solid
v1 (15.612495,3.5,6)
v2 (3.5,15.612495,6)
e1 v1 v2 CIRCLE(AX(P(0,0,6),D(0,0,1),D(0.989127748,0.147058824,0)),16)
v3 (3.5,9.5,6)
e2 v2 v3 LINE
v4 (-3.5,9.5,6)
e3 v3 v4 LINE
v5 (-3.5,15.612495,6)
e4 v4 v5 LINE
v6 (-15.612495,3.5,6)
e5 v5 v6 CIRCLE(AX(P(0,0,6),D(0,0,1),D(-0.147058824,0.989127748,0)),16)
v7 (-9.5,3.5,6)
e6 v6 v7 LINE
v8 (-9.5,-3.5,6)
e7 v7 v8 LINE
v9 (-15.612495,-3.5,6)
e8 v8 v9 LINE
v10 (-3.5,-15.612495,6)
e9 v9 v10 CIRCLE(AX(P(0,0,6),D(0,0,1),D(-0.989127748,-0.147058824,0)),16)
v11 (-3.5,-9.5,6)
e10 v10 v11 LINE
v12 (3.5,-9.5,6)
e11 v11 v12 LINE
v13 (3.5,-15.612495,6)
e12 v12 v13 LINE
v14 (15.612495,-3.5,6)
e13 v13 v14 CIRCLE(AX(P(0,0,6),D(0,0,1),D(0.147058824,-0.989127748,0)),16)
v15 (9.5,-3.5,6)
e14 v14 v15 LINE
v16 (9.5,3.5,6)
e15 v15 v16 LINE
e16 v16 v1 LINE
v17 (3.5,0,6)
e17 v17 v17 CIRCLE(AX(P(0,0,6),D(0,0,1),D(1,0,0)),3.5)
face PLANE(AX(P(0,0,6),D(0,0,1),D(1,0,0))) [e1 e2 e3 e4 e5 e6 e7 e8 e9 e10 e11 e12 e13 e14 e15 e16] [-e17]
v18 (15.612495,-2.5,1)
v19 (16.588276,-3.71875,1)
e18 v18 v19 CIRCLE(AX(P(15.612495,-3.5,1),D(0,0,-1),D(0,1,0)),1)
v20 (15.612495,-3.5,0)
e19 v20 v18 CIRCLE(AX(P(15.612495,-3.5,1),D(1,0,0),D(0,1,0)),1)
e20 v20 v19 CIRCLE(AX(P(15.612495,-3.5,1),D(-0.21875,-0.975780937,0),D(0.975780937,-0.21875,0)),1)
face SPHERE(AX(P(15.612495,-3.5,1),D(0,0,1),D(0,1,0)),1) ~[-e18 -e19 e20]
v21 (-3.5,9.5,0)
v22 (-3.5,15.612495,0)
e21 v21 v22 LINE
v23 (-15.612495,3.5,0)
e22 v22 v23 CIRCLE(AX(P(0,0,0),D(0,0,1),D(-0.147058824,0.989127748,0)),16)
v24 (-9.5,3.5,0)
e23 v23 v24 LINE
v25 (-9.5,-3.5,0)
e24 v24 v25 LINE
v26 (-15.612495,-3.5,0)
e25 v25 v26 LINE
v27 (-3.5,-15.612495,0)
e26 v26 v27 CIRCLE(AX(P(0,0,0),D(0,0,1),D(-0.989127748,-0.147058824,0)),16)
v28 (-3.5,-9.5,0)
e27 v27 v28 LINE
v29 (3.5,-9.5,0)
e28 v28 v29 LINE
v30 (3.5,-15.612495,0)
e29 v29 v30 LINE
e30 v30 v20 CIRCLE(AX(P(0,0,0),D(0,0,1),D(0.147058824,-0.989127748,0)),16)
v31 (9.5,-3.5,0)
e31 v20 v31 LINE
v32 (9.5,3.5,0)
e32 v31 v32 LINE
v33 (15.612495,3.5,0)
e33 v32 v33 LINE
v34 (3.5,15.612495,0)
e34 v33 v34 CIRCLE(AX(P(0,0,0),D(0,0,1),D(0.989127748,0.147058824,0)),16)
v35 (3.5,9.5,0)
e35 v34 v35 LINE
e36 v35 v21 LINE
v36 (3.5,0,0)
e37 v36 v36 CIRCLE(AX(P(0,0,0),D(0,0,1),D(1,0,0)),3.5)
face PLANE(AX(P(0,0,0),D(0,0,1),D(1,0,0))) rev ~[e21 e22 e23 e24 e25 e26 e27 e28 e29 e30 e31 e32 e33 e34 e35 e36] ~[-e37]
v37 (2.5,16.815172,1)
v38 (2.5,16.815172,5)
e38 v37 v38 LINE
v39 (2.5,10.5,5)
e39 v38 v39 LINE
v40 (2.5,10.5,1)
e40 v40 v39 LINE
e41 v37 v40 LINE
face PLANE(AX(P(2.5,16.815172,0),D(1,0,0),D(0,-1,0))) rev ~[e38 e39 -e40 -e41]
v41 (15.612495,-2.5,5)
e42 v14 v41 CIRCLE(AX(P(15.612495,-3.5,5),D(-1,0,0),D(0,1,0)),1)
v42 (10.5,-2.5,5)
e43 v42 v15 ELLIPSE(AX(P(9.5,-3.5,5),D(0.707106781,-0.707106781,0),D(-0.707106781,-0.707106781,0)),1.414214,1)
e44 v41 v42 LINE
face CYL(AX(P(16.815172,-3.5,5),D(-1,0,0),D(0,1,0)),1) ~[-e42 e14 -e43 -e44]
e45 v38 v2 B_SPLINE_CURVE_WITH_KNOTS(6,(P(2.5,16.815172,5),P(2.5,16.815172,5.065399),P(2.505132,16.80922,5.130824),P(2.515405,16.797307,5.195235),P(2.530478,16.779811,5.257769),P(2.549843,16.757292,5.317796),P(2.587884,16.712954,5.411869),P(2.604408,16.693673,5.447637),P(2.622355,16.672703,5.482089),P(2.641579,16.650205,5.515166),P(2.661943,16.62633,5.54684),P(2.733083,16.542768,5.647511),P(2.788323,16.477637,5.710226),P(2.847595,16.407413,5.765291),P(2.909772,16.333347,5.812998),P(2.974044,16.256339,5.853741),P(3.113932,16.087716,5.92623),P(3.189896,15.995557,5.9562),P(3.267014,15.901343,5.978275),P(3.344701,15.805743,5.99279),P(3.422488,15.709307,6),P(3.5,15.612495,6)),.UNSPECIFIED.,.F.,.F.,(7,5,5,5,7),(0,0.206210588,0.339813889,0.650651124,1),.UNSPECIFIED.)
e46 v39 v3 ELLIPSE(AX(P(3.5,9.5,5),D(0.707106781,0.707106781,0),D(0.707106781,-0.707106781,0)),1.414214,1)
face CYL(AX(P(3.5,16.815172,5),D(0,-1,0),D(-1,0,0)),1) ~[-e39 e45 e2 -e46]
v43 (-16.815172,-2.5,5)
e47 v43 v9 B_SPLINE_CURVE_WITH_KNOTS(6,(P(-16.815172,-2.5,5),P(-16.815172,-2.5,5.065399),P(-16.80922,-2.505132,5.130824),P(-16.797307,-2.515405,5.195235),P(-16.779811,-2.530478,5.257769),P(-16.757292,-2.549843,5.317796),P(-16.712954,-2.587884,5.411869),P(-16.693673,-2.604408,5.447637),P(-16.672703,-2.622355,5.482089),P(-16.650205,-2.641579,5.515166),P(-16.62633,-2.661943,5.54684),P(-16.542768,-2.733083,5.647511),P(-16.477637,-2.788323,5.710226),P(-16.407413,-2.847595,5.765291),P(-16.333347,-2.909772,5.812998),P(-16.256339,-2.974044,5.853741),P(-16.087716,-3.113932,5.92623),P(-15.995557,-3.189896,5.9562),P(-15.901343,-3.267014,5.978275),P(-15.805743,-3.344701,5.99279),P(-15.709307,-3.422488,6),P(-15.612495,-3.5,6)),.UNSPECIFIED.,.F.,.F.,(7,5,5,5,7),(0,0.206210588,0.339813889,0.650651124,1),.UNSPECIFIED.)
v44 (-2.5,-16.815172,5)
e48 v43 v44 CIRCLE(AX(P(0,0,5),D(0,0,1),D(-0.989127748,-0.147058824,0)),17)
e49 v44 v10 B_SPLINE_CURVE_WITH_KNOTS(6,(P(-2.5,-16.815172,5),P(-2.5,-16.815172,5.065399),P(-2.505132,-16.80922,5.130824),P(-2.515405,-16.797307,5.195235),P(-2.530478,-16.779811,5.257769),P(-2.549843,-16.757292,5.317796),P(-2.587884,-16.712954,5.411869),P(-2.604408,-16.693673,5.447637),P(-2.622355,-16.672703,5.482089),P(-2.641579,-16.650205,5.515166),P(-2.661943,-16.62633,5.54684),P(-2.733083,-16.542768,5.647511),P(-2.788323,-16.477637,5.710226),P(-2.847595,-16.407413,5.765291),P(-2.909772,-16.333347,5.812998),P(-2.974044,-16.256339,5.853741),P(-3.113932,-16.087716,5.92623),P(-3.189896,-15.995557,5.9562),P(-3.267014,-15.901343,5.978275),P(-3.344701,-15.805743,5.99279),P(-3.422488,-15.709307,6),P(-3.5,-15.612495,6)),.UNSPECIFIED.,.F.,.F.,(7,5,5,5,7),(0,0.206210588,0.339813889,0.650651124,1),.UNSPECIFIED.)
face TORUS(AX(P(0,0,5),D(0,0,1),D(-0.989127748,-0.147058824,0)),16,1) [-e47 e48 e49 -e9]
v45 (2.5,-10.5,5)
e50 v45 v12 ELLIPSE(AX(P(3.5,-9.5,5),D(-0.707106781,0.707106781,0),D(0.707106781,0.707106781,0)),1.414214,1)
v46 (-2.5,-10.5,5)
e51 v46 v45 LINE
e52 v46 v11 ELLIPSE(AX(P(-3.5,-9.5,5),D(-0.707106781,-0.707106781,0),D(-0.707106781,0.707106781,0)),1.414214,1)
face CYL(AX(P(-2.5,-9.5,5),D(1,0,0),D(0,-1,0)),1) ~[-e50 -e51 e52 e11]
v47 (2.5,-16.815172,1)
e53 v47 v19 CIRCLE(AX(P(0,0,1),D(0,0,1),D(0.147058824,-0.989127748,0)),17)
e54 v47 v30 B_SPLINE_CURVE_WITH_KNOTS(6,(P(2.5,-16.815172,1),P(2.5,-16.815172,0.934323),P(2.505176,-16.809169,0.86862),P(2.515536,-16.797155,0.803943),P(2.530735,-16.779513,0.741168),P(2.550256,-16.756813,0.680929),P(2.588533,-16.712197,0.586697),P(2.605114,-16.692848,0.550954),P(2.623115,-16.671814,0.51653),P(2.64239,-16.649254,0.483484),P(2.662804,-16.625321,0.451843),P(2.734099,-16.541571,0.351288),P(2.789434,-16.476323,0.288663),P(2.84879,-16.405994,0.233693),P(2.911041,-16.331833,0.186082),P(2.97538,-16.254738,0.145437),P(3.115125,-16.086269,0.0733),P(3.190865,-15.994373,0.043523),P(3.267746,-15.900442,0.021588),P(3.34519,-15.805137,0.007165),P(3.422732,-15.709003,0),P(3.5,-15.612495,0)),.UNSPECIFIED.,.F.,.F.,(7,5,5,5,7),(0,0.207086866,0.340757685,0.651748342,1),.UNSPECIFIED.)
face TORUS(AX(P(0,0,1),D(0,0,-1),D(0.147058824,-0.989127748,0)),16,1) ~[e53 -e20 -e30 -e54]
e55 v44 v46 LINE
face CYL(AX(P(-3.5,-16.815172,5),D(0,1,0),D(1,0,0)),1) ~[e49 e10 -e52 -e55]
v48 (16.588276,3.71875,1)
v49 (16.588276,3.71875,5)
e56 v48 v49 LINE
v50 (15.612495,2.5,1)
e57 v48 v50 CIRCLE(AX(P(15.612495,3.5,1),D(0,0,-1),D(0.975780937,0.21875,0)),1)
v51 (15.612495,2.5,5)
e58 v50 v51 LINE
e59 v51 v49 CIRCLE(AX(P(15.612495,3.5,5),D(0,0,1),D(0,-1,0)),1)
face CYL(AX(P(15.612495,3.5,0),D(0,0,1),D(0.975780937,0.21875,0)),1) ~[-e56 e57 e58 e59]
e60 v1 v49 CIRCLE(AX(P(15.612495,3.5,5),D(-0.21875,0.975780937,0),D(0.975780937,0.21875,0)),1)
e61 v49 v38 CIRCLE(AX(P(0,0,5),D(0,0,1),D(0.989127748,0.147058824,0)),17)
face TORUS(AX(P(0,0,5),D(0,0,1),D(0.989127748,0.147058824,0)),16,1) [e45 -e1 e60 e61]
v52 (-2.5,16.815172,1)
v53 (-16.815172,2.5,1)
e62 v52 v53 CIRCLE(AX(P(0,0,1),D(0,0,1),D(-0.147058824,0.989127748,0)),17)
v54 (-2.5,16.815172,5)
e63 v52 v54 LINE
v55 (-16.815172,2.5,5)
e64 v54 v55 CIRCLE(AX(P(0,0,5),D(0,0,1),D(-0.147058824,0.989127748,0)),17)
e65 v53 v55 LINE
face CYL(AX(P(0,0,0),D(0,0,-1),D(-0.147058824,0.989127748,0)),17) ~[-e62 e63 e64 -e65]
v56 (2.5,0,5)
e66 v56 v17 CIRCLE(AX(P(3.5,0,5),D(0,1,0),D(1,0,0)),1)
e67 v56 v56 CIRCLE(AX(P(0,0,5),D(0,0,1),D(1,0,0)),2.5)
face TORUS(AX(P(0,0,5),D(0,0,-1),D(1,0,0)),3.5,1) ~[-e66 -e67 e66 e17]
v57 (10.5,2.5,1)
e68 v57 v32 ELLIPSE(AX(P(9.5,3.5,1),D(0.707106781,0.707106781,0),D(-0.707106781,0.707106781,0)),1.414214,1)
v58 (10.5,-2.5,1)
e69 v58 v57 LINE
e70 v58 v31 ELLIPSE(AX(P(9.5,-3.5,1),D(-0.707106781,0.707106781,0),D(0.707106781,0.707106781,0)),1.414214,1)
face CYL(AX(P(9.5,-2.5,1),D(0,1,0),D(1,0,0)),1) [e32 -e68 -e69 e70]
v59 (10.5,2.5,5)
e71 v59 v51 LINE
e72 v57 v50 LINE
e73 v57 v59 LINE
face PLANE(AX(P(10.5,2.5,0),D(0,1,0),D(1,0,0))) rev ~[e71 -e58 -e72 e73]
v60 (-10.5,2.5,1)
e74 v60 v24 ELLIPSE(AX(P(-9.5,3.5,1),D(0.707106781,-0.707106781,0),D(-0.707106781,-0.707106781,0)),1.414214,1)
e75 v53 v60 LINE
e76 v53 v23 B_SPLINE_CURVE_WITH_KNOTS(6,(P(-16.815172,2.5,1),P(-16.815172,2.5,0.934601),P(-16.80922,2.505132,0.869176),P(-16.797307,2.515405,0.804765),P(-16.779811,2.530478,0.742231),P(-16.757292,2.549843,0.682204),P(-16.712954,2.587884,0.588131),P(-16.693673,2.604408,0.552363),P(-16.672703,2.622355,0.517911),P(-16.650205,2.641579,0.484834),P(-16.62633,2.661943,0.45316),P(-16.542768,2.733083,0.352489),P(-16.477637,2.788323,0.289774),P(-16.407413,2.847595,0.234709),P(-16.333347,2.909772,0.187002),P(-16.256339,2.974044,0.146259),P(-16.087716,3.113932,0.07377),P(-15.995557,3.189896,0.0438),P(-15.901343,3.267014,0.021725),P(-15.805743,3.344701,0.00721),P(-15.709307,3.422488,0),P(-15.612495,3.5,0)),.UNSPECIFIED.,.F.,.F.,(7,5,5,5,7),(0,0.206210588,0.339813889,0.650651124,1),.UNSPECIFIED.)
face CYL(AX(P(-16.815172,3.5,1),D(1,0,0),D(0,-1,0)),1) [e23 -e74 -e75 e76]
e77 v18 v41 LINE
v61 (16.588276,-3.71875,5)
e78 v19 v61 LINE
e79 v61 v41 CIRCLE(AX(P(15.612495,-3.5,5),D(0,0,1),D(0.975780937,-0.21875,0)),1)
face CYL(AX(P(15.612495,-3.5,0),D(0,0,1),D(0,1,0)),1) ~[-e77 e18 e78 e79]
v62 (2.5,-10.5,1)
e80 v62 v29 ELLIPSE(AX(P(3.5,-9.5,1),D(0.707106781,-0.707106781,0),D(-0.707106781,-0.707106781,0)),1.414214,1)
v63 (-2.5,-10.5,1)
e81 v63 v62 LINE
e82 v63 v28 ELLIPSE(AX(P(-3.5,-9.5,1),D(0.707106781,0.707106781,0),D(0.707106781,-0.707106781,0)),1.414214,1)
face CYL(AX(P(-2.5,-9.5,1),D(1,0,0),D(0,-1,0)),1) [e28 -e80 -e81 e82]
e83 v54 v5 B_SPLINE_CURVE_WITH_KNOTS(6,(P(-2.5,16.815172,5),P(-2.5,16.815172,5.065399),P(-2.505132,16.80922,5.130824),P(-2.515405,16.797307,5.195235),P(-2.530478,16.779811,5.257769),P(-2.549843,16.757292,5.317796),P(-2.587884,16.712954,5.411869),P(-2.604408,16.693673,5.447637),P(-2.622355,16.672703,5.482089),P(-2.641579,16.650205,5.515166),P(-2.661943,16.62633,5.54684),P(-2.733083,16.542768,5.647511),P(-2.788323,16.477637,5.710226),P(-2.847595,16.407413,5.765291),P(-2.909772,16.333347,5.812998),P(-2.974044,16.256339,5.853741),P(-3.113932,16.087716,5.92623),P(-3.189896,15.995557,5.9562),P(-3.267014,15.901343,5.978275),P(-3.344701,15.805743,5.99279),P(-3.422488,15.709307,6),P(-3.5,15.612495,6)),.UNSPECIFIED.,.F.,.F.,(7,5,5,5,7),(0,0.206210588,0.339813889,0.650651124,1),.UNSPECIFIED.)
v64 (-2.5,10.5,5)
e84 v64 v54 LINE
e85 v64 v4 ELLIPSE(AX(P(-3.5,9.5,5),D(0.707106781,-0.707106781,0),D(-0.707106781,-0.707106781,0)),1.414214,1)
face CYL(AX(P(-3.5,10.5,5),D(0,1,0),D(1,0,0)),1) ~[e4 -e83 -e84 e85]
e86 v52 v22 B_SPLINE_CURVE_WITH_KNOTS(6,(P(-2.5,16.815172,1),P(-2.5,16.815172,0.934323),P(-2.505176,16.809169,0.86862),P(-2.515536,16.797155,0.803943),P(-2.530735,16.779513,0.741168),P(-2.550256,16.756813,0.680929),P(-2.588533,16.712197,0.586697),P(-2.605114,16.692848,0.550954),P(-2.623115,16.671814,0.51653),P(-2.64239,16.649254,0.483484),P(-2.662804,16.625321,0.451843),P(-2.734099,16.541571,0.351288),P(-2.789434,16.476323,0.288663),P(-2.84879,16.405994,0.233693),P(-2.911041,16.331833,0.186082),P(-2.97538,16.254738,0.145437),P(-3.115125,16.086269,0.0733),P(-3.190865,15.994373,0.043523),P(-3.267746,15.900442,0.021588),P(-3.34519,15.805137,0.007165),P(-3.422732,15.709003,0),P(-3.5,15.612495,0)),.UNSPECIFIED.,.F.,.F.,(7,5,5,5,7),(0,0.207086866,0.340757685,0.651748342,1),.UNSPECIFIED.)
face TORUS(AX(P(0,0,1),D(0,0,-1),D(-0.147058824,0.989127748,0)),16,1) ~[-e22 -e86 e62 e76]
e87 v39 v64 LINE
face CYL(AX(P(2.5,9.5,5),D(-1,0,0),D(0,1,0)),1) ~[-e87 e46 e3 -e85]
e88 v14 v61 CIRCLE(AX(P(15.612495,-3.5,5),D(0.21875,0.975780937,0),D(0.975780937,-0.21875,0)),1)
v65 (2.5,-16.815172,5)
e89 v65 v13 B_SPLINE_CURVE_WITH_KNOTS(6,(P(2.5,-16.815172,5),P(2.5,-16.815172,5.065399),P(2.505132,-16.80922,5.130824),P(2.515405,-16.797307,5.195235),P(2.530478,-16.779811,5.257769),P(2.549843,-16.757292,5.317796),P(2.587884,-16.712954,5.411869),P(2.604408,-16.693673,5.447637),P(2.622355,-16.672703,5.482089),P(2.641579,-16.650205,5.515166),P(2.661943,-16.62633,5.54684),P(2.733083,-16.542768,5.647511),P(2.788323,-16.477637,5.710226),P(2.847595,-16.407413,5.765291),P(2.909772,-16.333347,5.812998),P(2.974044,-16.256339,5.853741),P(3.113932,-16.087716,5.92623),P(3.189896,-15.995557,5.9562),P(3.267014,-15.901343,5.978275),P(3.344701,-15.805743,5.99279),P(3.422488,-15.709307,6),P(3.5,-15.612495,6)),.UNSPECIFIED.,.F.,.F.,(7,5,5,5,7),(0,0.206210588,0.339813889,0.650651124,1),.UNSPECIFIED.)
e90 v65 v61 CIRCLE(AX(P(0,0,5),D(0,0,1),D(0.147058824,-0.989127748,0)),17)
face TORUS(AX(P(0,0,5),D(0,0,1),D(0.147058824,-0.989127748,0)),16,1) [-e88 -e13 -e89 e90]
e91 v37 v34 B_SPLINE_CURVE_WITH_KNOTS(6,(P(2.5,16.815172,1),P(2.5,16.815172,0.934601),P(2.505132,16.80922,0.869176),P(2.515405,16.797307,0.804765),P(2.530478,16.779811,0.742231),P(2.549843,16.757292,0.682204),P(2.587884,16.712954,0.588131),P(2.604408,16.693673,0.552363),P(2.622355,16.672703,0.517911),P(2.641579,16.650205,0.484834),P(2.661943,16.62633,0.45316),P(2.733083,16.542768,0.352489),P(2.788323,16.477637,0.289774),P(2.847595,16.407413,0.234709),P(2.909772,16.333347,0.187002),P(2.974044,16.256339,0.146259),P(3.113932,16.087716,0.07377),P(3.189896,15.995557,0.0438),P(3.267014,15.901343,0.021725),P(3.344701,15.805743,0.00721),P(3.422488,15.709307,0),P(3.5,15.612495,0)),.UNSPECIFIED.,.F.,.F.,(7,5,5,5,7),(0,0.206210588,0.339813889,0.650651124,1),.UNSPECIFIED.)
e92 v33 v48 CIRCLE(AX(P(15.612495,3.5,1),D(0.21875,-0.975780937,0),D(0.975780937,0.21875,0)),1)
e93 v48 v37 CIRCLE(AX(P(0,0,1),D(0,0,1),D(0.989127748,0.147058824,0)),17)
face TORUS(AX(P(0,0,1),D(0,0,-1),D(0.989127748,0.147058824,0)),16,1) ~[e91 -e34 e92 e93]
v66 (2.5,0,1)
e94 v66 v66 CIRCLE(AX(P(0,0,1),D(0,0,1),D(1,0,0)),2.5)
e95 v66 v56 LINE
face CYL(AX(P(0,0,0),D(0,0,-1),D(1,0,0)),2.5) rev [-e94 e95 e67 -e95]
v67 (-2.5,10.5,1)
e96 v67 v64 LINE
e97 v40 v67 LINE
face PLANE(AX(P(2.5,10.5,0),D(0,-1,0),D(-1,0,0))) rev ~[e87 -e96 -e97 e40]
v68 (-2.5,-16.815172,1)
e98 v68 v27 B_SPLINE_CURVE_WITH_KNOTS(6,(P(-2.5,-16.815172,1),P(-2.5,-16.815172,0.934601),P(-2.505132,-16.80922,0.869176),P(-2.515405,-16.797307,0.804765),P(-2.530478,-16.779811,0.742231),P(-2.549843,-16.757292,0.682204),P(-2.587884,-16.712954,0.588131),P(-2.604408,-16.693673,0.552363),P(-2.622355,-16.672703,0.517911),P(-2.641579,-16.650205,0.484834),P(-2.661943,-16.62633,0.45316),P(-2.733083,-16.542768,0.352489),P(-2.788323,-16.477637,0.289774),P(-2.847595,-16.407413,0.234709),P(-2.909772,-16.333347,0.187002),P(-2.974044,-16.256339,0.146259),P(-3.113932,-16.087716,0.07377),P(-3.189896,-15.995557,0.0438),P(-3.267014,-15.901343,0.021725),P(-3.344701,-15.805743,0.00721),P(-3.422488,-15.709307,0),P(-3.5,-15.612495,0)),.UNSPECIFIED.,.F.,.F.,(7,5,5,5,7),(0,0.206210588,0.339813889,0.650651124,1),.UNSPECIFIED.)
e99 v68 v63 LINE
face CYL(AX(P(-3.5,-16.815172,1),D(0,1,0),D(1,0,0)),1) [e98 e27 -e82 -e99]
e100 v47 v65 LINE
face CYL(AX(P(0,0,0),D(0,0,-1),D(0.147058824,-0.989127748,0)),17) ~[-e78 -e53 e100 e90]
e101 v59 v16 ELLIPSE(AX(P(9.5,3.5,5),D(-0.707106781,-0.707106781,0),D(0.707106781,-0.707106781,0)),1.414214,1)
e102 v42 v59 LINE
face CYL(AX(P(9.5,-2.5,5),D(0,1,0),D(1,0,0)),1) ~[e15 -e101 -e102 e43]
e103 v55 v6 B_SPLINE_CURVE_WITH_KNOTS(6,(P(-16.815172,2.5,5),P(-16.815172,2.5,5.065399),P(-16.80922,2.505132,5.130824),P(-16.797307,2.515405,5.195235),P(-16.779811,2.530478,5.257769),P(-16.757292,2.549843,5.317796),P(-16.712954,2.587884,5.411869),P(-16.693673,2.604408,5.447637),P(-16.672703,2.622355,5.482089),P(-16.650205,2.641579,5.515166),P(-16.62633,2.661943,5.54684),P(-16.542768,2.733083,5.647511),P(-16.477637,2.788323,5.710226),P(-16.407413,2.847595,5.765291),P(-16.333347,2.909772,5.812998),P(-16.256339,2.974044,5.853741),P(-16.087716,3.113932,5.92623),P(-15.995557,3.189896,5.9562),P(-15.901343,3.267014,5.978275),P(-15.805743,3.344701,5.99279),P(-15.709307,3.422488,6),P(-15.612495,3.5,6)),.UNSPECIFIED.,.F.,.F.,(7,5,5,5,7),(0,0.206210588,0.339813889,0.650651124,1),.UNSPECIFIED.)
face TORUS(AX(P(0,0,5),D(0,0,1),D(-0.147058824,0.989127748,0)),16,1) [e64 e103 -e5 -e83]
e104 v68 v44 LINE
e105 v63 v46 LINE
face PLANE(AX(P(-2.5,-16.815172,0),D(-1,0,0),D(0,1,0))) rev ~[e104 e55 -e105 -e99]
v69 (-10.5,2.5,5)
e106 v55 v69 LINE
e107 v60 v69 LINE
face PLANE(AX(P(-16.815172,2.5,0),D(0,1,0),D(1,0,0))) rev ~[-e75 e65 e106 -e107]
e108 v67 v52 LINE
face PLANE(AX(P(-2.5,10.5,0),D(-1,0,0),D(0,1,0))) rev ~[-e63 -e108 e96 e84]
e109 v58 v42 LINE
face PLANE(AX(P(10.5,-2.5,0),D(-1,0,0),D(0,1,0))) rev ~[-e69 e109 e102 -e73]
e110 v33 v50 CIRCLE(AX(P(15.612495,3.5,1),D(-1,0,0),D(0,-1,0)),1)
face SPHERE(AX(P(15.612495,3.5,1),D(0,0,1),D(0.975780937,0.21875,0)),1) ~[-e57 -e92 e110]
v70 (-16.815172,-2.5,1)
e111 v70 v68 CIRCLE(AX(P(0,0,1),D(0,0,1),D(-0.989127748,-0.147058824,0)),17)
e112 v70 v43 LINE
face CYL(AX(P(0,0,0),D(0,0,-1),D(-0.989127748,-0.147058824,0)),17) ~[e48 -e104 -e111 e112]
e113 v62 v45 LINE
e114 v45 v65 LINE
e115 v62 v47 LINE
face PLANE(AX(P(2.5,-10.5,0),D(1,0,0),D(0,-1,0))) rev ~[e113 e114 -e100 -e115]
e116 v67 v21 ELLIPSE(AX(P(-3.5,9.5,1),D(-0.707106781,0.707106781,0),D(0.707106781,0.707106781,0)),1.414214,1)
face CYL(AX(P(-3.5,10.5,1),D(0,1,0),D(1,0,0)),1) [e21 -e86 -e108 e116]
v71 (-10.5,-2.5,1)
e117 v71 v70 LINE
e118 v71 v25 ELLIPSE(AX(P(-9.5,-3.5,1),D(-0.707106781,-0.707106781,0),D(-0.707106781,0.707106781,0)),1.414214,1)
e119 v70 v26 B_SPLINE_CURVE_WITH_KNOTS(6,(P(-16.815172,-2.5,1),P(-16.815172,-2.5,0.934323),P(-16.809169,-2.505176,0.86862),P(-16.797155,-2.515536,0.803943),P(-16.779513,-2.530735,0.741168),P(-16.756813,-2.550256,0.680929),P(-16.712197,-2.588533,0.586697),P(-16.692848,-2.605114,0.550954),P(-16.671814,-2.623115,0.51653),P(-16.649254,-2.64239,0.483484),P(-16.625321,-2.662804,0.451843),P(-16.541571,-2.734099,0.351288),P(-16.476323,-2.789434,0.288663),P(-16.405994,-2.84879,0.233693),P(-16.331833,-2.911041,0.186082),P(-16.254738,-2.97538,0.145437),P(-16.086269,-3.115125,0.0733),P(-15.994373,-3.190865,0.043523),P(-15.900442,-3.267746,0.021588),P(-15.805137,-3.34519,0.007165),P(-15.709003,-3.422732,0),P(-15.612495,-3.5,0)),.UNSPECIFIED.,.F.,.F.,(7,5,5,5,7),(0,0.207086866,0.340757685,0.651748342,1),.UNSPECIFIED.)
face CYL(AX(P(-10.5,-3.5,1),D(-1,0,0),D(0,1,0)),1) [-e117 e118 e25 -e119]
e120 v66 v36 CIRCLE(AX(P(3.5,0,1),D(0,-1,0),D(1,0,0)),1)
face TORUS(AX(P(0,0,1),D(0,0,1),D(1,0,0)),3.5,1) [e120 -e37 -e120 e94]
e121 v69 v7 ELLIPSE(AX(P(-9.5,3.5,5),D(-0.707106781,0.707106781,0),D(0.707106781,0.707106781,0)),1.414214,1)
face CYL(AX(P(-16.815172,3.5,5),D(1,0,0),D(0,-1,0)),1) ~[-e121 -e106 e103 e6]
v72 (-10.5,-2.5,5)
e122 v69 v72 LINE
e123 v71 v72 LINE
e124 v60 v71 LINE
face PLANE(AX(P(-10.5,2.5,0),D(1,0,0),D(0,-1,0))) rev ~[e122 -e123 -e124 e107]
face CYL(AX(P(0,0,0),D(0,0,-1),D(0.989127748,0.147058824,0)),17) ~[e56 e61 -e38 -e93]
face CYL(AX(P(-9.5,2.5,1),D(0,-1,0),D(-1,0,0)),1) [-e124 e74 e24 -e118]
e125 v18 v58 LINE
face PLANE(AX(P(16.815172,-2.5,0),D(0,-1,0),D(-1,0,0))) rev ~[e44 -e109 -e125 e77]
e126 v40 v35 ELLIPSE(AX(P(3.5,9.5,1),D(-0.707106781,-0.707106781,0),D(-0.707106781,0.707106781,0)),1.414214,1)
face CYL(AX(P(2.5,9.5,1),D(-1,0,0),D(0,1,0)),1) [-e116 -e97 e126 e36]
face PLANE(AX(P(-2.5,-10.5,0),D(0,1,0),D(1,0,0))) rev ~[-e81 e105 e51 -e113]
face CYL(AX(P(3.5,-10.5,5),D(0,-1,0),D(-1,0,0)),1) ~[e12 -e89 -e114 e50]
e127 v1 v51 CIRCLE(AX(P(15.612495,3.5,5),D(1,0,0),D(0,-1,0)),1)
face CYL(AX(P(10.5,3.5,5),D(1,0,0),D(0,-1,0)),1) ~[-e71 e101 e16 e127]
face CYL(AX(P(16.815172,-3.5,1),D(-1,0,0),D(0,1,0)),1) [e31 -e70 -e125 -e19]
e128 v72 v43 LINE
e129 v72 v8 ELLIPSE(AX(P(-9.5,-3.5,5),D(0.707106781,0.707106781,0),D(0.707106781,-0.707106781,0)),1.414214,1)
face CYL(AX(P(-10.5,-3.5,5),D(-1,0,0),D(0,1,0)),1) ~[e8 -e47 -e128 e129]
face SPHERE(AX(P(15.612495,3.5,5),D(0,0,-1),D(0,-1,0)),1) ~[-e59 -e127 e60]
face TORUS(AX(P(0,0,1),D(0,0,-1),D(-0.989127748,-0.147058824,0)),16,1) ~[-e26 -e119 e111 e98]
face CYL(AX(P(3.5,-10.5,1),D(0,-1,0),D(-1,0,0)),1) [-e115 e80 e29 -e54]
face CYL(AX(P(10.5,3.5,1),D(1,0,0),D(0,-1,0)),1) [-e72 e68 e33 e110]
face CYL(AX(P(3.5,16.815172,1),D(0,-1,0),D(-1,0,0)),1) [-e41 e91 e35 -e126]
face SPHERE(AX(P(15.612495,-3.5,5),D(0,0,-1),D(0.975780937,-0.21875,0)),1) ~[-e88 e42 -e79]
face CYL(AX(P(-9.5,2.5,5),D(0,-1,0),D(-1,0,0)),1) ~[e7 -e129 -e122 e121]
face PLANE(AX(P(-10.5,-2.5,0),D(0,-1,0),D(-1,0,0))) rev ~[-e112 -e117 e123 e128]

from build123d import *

# Parameters (mm, degrees)
SKETCH1_R      = 2.5
EXTRUDE1_DEPTH = 6
FILLET1_R      = 1


with BuildPart() as part:
    # Sketch1 → Extrude1 (new body)
    with BuildSketch(Plane.XY):
        with BuildLine():
            Line((2.5, 16.815171721), (2.5, 10.5))
            Line((2.5, 10.5), (-2.5, 10.5))
            Line((-2.5, 10.5), (-2.5, 16.815171721))
            ThreePointArc((-2.5, 16.815171721), (-12.02081528, 12.02081528), (-16.815171721, 2.5))
            Line((-16.815171721, 2.5), (-10.5, 2.5))
            Line((-10.5, 2.5), (-10.5, -2.5))
            Line((-10.5, -2.5), (-16.815171721, -2.5))
            ThreePointArc((-16.815171721, -2.5), (-12.02081528, -12.02081528), (-2.5, -16.815171721))
            Line((-2.5, -16.815171721), (-2.5, -10.5))
            Line((-2.5, -10.5), (2.5, -10.5))
            Line((2.5, -10.5), (2.5, -16.815171721))
            ThreePointArc((2.5, -16.815171721), (12.02081528, -12.02081528), (16.815171721, -2.5))
            Line((16.815171721, -2.5), (10.5, -2.5))
            Line((10.5, -2.5), (10.5, 2.5))
            Line((10.5, 2.5), (16.815171721, 2.5))
            ThreePointArc((16.815171721, 2.5), (12.02081528, 12.02081528), (2.5, 16.815171721))
        make_face()
        Circle(SKETCH1_R, mode=Mode.SUBTRACT)
    extrude(amount=EXTRUDE1_DEPTH)

    # Fillet1
    fillet1_edges = [part.edges().sort_by_distance(p)[0] for p in [
        (13.65758586, 2.5, 6),
        (12.02081528, 12.02081528, 6),
        (10.5, 0, 0),
        (13.65758586, -2.5, 0),
        (12.02081528, -12.02081528, 0),
        (2.5, 13.65758586, 6),
        (2.5, -13.65758586, 0),
        (0, -10.5, 0),
        (-2.5, -13.65758586, 0),
        (-12.02081528, -12.02081528, 0),
        (-13.65758586, -2.5, 0),
        (-10.5, 0, 0),
        (-13.65758586, 2.5, 0),
        (-12.02081528, 12.02081528, 0),
        (0, 10.5, 6),
        (-2.5, 13.65758586, 0),
        (0, 10.5, 0),
        (2.5, 13.65758586, 0),
        (12.02081528, 12.02081528, 0),
        (13.65758586, 2.5, 0),
        (-2.5, 0, 0),
        (-2.5, 13.65758586, 6),
        (-12.02081528, 12.02081528, 6),
        (16.815171721, -2.5, 3),
        (16.815171721, 2.5, 3),
        (-13.65758586, 2.5, 6),
        (-10.5, 0, 6),
        (-13.65758586, -2.5, 6),
        (-12.02081528, -12.02081528, 6),
        (-2.5, -13.65758586, 6),
        (0, -10.5, 6),
        (2.5, -13.65758586, 6),
        (-2.5, 0, 6),
        (12.02081528, -12.02081528, 6),
        (13.65758586, -2.5, 6),
        (10.5, 0, 6),
    ]]
    fillet(fillet1_edges, radius=FILLET1_R)


solid = part.part
